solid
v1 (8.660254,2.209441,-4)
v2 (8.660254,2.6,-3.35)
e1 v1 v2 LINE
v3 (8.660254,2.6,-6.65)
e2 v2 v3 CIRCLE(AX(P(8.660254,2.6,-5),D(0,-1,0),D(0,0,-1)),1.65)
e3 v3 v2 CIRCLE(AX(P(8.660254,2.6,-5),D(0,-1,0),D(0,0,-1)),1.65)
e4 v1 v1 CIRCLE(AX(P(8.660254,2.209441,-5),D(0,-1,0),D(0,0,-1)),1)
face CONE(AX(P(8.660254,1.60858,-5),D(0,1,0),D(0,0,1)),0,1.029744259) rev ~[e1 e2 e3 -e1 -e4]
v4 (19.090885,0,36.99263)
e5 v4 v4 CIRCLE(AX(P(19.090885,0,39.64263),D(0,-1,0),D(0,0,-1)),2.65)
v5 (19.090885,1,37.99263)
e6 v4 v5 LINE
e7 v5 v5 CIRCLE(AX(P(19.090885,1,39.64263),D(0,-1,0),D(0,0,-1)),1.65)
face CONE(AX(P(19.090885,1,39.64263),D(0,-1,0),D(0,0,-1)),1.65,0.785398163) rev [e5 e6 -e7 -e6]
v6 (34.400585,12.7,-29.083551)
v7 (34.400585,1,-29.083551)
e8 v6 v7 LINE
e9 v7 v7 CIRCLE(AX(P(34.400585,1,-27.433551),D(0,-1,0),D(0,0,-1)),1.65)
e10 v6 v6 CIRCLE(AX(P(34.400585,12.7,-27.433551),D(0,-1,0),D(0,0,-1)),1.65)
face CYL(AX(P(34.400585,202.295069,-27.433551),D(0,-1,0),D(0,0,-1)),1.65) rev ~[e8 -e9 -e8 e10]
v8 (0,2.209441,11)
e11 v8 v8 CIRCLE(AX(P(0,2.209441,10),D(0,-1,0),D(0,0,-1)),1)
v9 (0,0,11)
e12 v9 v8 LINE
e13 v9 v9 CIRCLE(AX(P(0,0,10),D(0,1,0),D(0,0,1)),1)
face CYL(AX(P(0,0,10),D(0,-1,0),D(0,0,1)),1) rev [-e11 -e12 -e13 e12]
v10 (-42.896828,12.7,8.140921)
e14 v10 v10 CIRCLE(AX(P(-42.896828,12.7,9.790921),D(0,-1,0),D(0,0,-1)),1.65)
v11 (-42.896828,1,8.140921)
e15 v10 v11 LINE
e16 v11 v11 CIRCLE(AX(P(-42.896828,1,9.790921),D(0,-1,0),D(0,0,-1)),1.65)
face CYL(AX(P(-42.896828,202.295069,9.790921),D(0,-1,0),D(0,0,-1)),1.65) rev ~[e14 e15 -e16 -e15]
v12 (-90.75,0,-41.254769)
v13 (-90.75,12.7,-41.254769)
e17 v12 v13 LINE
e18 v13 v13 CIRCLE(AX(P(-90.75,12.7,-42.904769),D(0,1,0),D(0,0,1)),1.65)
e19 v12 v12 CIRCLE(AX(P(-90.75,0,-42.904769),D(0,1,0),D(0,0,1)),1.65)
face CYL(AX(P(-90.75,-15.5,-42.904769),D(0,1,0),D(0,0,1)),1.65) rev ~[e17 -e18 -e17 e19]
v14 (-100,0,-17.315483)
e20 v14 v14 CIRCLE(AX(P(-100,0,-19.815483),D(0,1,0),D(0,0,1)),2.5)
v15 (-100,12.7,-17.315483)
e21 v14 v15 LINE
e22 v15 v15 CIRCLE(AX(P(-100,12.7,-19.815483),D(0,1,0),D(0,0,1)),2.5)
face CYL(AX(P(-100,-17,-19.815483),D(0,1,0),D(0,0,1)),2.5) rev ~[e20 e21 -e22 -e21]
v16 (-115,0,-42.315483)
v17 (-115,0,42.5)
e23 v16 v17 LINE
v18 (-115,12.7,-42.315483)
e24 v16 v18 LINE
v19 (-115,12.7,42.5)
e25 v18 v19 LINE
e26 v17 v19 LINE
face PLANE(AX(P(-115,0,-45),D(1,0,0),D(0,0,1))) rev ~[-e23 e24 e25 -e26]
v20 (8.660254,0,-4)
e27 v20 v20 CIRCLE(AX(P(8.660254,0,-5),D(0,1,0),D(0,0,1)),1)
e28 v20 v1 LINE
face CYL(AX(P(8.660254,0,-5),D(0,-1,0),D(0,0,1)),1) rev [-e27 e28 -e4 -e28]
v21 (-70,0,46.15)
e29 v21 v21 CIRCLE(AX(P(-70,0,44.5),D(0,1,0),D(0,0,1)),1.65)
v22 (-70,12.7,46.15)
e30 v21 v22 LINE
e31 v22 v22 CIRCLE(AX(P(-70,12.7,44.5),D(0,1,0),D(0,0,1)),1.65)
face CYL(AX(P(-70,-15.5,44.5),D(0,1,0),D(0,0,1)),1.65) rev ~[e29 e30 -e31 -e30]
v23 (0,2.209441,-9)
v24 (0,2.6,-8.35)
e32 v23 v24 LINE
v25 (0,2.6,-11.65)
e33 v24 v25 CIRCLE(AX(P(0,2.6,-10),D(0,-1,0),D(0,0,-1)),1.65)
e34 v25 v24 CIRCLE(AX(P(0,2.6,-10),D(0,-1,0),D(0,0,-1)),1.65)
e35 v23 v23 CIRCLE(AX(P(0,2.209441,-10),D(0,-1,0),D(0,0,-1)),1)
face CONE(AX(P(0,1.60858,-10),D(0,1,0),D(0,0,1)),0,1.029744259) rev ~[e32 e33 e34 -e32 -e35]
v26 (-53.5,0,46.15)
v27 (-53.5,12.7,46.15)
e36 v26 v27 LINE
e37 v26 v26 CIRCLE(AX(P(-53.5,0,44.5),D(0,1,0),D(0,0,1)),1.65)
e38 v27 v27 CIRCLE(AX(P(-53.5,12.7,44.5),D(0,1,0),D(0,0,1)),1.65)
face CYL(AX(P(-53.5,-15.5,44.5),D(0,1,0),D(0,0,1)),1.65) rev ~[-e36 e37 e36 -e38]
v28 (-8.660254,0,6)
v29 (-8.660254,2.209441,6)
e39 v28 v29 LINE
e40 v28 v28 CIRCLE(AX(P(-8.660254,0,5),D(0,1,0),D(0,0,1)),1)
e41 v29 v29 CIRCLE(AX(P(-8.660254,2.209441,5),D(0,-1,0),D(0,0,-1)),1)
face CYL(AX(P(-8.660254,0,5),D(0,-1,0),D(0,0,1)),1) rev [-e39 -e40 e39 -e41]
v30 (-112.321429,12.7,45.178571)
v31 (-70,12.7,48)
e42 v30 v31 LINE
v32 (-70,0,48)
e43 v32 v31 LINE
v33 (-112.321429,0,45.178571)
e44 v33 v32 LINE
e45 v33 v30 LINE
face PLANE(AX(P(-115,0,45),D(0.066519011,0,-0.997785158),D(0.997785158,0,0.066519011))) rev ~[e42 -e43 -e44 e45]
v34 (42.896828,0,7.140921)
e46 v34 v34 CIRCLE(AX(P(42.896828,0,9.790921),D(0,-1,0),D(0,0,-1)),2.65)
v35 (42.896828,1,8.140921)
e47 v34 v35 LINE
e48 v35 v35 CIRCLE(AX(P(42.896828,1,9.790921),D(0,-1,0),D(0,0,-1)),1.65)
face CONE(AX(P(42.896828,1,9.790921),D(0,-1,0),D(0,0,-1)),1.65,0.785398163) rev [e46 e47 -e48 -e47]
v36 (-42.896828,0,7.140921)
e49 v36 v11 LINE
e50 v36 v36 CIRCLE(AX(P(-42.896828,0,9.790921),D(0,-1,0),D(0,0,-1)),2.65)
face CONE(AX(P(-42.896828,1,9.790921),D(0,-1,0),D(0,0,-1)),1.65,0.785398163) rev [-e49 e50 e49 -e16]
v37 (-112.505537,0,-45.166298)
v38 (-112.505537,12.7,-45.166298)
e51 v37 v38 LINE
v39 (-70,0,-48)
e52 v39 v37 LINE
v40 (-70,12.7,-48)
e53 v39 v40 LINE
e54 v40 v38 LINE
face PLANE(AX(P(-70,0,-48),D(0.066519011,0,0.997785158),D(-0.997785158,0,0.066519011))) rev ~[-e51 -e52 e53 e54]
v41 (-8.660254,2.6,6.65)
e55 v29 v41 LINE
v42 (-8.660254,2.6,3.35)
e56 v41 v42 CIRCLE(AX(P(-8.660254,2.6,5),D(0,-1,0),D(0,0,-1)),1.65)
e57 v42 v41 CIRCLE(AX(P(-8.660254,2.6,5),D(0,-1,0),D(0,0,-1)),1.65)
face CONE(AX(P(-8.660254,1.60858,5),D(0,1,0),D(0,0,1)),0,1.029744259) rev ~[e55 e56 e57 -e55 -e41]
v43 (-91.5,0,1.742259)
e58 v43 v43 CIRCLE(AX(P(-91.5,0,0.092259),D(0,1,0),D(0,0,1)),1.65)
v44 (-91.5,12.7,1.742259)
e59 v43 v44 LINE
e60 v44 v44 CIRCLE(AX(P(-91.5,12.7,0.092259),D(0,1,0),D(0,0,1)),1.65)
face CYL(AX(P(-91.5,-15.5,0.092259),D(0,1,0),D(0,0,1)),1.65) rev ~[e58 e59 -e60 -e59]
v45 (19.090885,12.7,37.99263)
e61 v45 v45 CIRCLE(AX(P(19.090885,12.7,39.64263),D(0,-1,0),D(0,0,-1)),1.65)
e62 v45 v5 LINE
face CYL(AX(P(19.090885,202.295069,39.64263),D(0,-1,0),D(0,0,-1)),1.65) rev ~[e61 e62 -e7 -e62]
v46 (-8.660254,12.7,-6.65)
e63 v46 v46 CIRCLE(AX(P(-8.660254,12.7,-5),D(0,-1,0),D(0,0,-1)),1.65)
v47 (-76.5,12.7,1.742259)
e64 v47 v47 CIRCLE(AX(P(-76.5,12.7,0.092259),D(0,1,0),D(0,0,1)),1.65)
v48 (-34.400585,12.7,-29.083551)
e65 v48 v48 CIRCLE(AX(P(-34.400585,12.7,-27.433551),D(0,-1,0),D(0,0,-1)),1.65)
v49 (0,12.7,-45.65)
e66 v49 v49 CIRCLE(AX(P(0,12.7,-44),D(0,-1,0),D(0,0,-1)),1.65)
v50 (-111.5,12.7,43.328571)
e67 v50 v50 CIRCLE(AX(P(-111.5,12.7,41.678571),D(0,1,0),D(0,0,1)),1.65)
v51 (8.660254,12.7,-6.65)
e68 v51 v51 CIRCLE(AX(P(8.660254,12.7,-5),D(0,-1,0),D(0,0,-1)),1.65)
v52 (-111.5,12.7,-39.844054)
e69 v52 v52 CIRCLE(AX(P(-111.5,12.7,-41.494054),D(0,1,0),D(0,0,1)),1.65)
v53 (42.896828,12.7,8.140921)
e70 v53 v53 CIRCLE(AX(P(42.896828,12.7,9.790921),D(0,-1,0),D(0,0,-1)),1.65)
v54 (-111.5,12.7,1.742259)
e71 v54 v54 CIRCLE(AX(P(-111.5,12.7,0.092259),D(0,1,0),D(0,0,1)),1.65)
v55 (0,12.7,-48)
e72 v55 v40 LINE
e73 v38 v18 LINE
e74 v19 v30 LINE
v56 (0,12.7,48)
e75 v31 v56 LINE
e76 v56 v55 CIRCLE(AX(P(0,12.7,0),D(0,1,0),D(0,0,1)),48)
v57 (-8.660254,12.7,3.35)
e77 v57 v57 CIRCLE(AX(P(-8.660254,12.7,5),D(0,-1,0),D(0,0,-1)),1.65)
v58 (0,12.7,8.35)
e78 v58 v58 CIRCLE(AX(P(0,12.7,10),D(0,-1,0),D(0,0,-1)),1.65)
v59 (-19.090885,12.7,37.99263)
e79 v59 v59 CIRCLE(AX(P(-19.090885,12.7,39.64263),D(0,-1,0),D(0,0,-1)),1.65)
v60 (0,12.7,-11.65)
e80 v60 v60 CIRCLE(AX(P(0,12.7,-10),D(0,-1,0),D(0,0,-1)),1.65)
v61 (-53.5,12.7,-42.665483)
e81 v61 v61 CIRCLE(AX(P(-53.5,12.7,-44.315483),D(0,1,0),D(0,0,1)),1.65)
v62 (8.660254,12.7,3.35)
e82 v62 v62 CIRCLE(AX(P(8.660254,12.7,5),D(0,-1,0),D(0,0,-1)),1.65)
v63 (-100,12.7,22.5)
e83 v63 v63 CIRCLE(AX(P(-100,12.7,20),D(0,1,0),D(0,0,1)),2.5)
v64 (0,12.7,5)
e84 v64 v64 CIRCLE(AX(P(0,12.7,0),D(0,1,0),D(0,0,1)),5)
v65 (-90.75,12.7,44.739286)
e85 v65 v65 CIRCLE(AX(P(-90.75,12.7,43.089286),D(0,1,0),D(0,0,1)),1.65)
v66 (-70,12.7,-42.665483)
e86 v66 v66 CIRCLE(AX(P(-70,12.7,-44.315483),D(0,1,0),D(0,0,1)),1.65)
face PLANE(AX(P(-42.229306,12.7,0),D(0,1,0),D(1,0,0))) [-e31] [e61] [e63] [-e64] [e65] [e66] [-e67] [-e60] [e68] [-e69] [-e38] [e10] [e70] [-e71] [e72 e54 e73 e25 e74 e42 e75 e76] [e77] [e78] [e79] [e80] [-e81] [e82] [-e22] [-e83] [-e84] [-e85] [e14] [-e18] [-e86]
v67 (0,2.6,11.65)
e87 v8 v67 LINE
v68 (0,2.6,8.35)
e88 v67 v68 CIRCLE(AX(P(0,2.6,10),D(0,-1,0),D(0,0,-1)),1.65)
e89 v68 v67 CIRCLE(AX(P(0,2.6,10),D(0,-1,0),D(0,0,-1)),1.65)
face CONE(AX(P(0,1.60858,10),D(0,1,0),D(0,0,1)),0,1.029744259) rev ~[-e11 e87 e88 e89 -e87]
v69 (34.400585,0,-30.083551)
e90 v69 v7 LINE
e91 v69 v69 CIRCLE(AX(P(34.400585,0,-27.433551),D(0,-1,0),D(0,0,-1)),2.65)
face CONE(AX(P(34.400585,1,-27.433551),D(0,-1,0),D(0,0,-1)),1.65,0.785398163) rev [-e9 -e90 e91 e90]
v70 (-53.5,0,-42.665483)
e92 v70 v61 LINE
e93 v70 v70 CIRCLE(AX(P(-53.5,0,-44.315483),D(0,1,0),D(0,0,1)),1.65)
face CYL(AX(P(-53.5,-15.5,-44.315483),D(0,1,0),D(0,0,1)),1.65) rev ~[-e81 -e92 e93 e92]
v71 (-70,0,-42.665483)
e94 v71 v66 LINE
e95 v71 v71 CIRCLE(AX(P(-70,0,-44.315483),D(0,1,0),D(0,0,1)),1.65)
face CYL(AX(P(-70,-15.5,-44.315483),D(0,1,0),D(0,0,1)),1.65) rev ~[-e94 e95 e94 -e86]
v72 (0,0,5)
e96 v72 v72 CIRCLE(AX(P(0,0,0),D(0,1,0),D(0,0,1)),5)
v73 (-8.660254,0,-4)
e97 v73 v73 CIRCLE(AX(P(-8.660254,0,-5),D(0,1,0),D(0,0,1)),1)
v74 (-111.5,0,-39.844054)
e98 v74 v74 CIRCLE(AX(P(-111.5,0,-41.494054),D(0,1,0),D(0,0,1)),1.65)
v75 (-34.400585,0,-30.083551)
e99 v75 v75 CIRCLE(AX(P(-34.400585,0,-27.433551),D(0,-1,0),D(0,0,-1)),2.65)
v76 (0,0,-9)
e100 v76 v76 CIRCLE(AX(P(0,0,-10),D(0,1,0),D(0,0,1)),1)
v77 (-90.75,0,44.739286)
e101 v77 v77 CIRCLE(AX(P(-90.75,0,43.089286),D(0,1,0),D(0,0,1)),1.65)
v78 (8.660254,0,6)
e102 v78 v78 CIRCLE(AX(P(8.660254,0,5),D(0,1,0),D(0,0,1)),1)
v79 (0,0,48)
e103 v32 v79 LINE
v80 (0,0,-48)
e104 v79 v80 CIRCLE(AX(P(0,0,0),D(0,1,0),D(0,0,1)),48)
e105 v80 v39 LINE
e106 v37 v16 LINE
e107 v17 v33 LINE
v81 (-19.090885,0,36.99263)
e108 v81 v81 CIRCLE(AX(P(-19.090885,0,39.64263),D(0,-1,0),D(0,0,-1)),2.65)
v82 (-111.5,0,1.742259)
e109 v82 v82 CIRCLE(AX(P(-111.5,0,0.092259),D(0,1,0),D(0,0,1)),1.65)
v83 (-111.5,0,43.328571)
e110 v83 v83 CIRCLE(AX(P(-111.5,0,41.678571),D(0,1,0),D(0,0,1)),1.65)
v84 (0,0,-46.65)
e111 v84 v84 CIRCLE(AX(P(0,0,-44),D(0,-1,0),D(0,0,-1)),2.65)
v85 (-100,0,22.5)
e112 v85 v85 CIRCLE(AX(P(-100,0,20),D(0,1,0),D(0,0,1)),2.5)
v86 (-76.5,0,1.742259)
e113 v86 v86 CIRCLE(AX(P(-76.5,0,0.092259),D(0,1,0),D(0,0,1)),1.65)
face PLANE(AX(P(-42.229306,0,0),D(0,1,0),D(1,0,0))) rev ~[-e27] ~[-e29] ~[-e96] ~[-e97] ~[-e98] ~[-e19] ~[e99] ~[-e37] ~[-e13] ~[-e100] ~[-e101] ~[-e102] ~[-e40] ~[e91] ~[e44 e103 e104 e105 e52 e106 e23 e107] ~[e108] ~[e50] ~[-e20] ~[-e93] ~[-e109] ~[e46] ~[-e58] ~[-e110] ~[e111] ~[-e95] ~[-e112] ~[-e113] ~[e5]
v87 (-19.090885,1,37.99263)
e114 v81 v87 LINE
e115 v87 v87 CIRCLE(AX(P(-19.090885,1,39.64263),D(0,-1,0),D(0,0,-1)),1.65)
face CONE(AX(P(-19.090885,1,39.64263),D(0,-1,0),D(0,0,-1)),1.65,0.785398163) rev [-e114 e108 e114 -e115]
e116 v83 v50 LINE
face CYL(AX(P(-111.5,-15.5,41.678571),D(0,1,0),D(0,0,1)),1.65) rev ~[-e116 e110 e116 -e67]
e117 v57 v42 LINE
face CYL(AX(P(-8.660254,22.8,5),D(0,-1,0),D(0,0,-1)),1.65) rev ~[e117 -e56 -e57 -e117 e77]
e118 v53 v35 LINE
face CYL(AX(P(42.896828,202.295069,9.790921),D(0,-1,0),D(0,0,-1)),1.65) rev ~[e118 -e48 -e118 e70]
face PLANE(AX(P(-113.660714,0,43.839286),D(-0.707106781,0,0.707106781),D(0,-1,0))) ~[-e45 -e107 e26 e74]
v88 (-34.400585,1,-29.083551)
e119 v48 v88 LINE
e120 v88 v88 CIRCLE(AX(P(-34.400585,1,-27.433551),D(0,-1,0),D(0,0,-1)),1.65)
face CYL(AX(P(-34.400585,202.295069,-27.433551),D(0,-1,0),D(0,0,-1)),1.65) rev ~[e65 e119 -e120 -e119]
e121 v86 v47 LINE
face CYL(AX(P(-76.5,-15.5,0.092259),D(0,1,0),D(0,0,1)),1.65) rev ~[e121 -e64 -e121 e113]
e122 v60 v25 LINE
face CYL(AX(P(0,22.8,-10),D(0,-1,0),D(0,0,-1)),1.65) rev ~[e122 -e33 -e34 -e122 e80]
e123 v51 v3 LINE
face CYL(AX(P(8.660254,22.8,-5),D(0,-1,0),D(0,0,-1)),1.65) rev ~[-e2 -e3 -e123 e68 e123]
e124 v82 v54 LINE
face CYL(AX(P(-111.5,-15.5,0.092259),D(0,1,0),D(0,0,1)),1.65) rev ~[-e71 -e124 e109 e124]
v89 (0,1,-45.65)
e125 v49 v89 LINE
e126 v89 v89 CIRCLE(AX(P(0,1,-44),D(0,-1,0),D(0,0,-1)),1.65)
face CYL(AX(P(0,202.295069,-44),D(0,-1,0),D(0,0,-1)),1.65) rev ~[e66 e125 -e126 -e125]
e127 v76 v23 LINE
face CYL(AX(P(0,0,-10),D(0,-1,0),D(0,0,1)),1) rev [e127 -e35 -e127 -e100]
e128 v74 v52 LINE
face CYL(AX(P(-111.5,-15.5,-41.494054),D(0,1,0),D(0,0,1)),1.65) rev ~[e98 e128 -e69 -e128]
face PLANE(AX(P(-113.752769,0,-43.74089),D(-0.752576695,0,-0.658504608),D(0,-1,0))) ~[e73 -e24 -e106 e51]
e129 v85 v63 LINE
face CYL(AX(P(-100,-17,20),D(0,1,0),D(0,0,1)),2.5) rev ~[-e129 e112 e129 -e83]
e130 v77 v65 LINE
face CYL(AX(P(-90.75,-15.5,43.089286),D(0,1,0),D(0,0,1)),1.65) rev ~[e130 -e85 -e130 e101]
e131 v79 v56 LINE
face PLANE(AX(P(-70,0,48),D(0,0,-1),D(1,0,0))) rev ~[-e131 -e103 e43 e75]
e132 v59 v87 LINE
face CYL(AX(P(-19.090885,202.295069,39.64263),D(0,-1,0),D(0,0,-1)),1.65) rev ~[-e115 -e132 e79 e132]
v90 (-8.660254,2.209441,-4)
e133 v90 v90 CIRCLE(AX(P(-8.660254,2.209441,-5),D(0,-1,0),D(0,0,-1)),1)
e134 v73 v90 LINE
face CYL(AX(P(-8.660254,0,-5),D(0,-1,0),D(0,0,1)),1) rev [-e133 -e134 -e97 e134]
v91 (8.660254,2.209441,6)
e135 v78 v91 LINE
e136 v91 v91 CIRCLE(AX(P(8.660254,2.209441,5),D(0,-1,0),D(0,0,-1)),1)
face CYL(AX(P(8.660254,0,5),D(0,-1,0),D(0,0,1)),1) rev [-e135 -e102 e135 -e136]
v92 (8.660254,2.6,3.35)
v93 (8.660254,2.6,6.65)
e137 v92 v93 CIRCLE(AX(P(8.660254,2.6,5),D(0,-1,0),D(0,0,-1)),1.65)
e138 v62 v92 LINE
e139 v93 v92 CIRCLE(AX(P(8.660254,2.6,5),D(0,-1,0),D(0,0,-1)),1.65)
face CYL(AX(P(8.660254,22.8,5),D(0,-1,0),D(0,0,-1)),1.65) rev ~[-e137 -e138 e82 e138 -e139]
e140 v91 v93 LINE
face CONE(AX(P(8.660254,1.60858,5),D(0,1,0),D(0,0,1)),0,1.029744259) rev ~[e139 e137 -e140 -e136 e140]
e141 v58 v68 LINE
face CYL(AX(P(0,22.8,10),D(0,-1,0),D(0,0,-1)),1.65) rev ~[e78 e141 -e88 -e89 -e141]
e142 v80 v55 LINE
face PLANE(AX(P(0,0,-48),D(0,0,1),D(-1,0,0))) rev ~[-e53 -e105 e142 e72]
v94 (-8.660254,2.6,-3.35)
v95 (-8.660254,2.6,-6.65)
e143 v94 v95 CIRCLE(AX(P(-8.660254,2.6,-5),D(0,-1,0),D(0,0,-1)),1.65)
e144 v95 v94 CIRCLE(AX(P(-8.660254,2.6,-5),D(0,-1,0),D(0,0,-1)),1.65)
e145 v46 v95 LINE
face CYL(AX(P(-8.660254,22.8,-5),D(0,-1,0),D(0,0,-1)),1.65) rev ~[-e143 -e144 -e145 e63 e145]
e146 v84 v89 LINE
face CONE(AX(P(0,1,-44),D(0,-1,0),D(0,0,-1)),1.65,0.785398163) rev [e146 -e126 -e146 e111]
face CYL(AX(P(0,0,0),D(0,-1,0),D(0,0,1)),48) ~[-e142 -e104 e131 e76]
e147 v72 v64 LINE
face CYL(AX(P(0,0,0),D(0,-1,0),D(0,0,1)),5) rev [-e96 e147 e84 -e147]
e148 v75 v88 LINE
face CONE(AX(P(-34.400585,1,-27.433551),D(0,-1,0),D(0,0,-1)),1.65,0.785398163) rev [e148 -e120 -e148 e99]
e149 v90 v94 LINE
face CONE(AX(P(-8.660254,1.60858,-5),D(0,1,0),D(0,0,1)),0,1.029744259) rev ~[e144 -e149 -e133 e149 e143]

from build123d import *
from OCP.BRepFilletAPI import BRepFilletAPI_MakeChamfer

# Parameters (mm, degrees)
SKETCH1_R                 = 5
SKETCH1_R_2               = 1
BOSS_EXTRUDE1_DEPTH       = 12.7
SKETCH3_R                 = 1
CUT_EXTRUDE1_DEPTH        = 6.35
M4X0_7_TAPPED_HOLE1_D     = 3.3
CHAMFER1_SIZE             = 1
M4X0_7_TAPPED_HOLE2_D     = 3.3
M4X0_7_TAPPED_HOLE2_DEPTH = 10.1
M4X0_7_TAPPED_HOLE2_TIP   = 0.991420021
CHAMFER2_SIZE             = 2.5
CHAMFER2_SIZE2            = 2.68451721
SKETCH7_R                 = 0.25
SKETCH7_R_2               = 1
CUT_EXTRUDE2_DEPTH        = 126.26088775
M4X0_7_TAPPED_HOLE3_D     = 3.3
M4X0_7_TAPPED_HOLE3_DEPTH = 15.5
M4X0_7_TAPPED_HOLE3_TIP   = 0.991420021
M6X1_0_TAPPED_HOLE1_D     = 5
M6X1_0_TAPPED_HOLE1_DEPTH = 17
M6X1_0_TAPPED_HOLE1_TIP   = 1.502151548


with BuildPart() as part:
    # Sketch1 → Boss-Extrude1 (new body)
    with BuildSketch(Plane(origin=(0, 0, 0), x_dir=(1, 0, 0), z_dir=(0, 1, 0))):
        with BuildLine():
            Line((-115, 45), (-115, -45))
            Line((-115, -45), (-70, -48))
            Line((-70, -48), (0, -48))
            ThreePointArc((0, -48), (48, 0), (0, 48))
            Line((0, 48), (-70, 48))
            Line((-70, 48), (-115, 45))
        make_face()
        with Locations(Location((0, 0, 0), (0, 0, 270))):
            Circle(SKETCH1_R, mode=Mode.SUBTRACT)
        with Locations(Location((0, 10, 0), (0, 0, 270))):
            Circle(SKETCH1_R_2, mode=Mode.SUBTRACT)
        with Locations(Location((8.660254038, 5, 0), (0, 0, 270))):
            Circle(SKETCH1_R_2, mode=Mode.SUBTRACT)
        with Locations(Location((8.660254038, -5, 0), (0, 0, 270))):
            Circle(SKETCH1_R_2, mode=Mode.SUBTRACT)
        with Locations(Location((0, -10, 0), (0, 0, 270))):
            Circle(SKETCH1_R_2, mode=Mode.SUBTRACT)
        with Locations(Location((-8.660254038, -5, 0), (0, 0, 270))):
            Circle(SKETCH1_R_2, mode=Mode.SUBTRACT)
        with Locations(Location((-8.660254038, 5, 0), (0, 0, 270))):
            Circle(SKETCH1_R_2, mode=Mode.SUBTRACT)
    extrude(amount=BOSS_EXTRUDE1_DEPTH)

    # Sketch3 → Cut-Extrude1 (cut)
    with BuildSketch(Plane(origin=(0, 12.7, 0), x_dir=(1, 0, 0), z_dir=(0, 1, 0))):
        with Locations(Location((0, 44, 0), (0, 0, 270))):
            Circle(SKETCH3_R)
        with Locations(Location((34.400585229, 27.433551282, 0), (0, 0, 270))):
            Circle(SKETCH3_R)
        with Locations(Location((42.896828136, -9.790921094, 0), (0, 0, 270))):
            Circle(SKETCH3_R)
        with Locations(Location((19.090884521, -39.642630188, 0), (0, 0, 270))):
            Circle(SKETCH3_R)
        with Locations(Location((-19.090884521, -39.642630188, 0), (0, 0, 270))):
            Circle(SKETCH3_R)
        with Locations(Location((-42.896828136, -9.790921094, 0), (0, 0, 270))):
            Circle(SKETCH3_R)
        with Locations(Location((-34.400585229, 27.433551282, 0), (0, 0, 270))):
            Circle(SKETCH3_R)
    extrude(amount=-CUT_EXTRUDE1_DEPTH, mode=Mode.SUBTRACT)

    # M4x0.7 Tapped Hole1 (through all)
    with Locations(Plane(origin=(-19.090884521, 12.7, 39.642630188), x_dir=(0, 0, 1), z_dir=(0, 1, 0))):
        with Locations((0, 0), (-29.851709094, -23.805943615), (-83.642630188, 19.090884521), (-67.07618147, 53.49146975), (-29.851709094, 61.987712657), (0, 38.181769042), (-67.07618147, -15.309700708)):
            Hole(M4X0_7_TAPPED_HOLE1_D / 2)

    # Chamfer1
    chamfer1_edges = [part.edges().sort_by_distance(p)[0] for p in [
        (34.400585229, 0, -25.783551282),
        (0, 0, -42.35),
        (-42.896828136, 0, 11.440921094),
        (-19.090884521, 0, 41.292630188),
        (-34.400585229, 0, -25.783551282),
        (19.090884521, 0, 41.292630188),
        (42.896828136, 0, 11.440921094),
    ]]
    chamfer(chamfer1_edges, length=CHAMFER1_SIZE)

    # M4x0.7 Tapped Hole2
    with Locations(Plane(origin=(0, 12.7, -10), x_dir=(0, 0, 1), z_dir=(0, 1, 0))):
        with Locations((0, 0), (5, -8.660254038), (15, -8.660254038), (20, 0), (15, 8.660254038), (5, 8.660254038)):
            Hole(M4X0_7_TAPPED_HOLE2_D / 2, depth=M4X0_7_TAPPED_HOLE2_DEPTH)
            with Locations((0, 0, -(M4X0_7_TAPPED_HOLE2_DEPTH + M4X0_7_TAPPED_HOLE2_TIP / 2))):  # 118° drill point
                Cone(0, M4X0_7_TAPPED_HOLE2_D / 2, M4X0_7_TAPPED_HOLE2_TIP, mode=Mode.SUBTRACT)

    # Chamfer2: one chamfer whose edges measure the first distance from different faces: ONE call of the kernel's chamfer builder (chamfer() names one face for all edges)
    chamfer2_edges_1 = [part.edges().sort_by_distance(p)[0] for p in [
        (-115, 6.35, 45),
    ]]
    chamfer2_side_1 = [part.faces().sort_by_distance(p)[0] for p in [
        (-115, 6.35, 0),
    ]]
    chamfer2_edges_2 = [part.edges().sort_by_distance(p)[0] for p in [
        (-115, 6.35, -45),
    ]]
    chamfer2_side_2 = [part.faces().sort_by_distance(p)[0] for p in [
        (-92.5, 6.35, -46.5),
    ]]
    chamfer2 = BRepFilletAPI_MakeChamfer(part.part.solid().wrapped)
    for e in chamfer2_edges_1:
        chamfer2.Add(CHAMFER2_SIZE, CHAMFER2_SIZE2, e.wrapped, chamfer2_side_1[0].wrapped)  # the first distance lies on this face
    for e in chamfer2_edges_2:
        chamfer2.Add(CHAMFER2_SIZE, CHAMFER2_SIZE2, e.wrapped, chamfer2_side_2[0].wrapped)  # the first distance lies on this face
    add(Compound.cast(chamfer2.Shape()), mode=Mode.REPLACE)

    # Sketch7 → Cut-Extrude2 (cut, through all)
    with BuildSketch(Plane.XZ):
        with Locations(Location((-111.5, 41.678571429, 0), (0, 0, 270))):
            Circle(SKETCH7_R)
        with Locations(Location((-70, 44.5, 0), (0, 0, 270))):
            Circle(SKETCH7_R)
        with Locations(Location((-53.5, 44.5, 0), (0, 0, 270))):
            Circle(SKETCH7_R)
        with Locations(Location((-90.75, 43.089285714, 0), (0, 0, 270))):
            Circle(SKETCH7_R)
        with Locations(Location((-90.75, -42.904768504, 0), (0, 0, 90))):
            Circle(SKETCH7_R)
        with Locations(Location((-53.5, -44.31548279, 0), (0, 0, 90))):
            Circle(SKETCH7_R)
        with Locations(Location((-70, -44.31548279, 0), (0, 0, 90))):
            Circle(SKETCH7_R)
        with Locations(Location((-111.5, -41.494054218, 0), (0, 0, 90))):
            Circle(SKETCH7_R)
        with Locations(Location((-111.5, 0.092258605, 0), (0, 0, 270))):
            Circle(SKETCH7_R)
        with Locations(Location((-91.5, 0.092258605, 0), (0, 0, 270))):
            Circle(SKETCH7_R)
        with Locations(Location((-76.5, 0.092258605, 0), (0, 0, 270))):
            Circle(SKETCH7_R)
        with Locations(Location((-100, -19.81548279, 0), (0, 0, 270))):
            Circle(SKETCH7_R_2)
        with Locations(Location((-100, 20, 0), (0, 0, 270))):
            Circle(SKETCH7_R_2)
    extrude(amount=-CUT_EXTRUDE2_DEPTH, mode=Mode.SUBTRACT)

    # M4x0.7 Tapped Hole3
    with Locations(Plane(origin=(-90.75, 0, 43.089285714), x_dir=(0, 0, -1), z_dir=(0, -1, 0))):
        with Locations((0, 0), (1.410714285, -20.75), (-1.410714286, 20.75), (-1.410714286, 37.25), (42.997027109, -20.75), (42.997027109, -0.75), (42.997027109, 14.25), (84.583339932, -20.75), (85.994054218, 0), (87.404768504, 20.75), (87.404768504, 37.25)):
            Hole(M4X0_7_TAPPED_HOLE3_D / 2, depth=M4X0_7_TAPPED_HOLE3_DEPTH)
            with Locations((0, 0, -(M4X0_7_TAPPED_HOLE3_DEPTH + M4X0_7_TAPPED_HOLE3_TIP / 2))):  # 118° drill point
                Cone(0, M4X0_7_TAPPED_HOLE3_D / 2, M4X0_7_TAPPED_HOLE3_TIP, mode=Mode.SUBTRACT)

    # M6x1.0 Tapped Hole1
    with Locations(Plane(origin=(-100, 0, 20), x_dir=(0, 0, -1), z_dir=(0, -1, 0))):
        with Locations((0, 0), (39.81548279, 0)):
            Hole(M6X1_0_TAPPED_HOLE1_D / 2, depth=M6X1_0_TAPPED_HOLE1_DEPTH)
            with Locations((0, 0, -(M6X1_0_TAPPED_HOLE1_DEPTH + M6X1_0_TAPPED_HOLE1_TIP / 2))):  # 118° drill point
                Cone(0, M6X1_0_TAPPED_HOLE1_D / 2, M6X1_0_TAPPED_HOLE1_TIP, mode=Mode.SUBTRACT)


solid = part.part
